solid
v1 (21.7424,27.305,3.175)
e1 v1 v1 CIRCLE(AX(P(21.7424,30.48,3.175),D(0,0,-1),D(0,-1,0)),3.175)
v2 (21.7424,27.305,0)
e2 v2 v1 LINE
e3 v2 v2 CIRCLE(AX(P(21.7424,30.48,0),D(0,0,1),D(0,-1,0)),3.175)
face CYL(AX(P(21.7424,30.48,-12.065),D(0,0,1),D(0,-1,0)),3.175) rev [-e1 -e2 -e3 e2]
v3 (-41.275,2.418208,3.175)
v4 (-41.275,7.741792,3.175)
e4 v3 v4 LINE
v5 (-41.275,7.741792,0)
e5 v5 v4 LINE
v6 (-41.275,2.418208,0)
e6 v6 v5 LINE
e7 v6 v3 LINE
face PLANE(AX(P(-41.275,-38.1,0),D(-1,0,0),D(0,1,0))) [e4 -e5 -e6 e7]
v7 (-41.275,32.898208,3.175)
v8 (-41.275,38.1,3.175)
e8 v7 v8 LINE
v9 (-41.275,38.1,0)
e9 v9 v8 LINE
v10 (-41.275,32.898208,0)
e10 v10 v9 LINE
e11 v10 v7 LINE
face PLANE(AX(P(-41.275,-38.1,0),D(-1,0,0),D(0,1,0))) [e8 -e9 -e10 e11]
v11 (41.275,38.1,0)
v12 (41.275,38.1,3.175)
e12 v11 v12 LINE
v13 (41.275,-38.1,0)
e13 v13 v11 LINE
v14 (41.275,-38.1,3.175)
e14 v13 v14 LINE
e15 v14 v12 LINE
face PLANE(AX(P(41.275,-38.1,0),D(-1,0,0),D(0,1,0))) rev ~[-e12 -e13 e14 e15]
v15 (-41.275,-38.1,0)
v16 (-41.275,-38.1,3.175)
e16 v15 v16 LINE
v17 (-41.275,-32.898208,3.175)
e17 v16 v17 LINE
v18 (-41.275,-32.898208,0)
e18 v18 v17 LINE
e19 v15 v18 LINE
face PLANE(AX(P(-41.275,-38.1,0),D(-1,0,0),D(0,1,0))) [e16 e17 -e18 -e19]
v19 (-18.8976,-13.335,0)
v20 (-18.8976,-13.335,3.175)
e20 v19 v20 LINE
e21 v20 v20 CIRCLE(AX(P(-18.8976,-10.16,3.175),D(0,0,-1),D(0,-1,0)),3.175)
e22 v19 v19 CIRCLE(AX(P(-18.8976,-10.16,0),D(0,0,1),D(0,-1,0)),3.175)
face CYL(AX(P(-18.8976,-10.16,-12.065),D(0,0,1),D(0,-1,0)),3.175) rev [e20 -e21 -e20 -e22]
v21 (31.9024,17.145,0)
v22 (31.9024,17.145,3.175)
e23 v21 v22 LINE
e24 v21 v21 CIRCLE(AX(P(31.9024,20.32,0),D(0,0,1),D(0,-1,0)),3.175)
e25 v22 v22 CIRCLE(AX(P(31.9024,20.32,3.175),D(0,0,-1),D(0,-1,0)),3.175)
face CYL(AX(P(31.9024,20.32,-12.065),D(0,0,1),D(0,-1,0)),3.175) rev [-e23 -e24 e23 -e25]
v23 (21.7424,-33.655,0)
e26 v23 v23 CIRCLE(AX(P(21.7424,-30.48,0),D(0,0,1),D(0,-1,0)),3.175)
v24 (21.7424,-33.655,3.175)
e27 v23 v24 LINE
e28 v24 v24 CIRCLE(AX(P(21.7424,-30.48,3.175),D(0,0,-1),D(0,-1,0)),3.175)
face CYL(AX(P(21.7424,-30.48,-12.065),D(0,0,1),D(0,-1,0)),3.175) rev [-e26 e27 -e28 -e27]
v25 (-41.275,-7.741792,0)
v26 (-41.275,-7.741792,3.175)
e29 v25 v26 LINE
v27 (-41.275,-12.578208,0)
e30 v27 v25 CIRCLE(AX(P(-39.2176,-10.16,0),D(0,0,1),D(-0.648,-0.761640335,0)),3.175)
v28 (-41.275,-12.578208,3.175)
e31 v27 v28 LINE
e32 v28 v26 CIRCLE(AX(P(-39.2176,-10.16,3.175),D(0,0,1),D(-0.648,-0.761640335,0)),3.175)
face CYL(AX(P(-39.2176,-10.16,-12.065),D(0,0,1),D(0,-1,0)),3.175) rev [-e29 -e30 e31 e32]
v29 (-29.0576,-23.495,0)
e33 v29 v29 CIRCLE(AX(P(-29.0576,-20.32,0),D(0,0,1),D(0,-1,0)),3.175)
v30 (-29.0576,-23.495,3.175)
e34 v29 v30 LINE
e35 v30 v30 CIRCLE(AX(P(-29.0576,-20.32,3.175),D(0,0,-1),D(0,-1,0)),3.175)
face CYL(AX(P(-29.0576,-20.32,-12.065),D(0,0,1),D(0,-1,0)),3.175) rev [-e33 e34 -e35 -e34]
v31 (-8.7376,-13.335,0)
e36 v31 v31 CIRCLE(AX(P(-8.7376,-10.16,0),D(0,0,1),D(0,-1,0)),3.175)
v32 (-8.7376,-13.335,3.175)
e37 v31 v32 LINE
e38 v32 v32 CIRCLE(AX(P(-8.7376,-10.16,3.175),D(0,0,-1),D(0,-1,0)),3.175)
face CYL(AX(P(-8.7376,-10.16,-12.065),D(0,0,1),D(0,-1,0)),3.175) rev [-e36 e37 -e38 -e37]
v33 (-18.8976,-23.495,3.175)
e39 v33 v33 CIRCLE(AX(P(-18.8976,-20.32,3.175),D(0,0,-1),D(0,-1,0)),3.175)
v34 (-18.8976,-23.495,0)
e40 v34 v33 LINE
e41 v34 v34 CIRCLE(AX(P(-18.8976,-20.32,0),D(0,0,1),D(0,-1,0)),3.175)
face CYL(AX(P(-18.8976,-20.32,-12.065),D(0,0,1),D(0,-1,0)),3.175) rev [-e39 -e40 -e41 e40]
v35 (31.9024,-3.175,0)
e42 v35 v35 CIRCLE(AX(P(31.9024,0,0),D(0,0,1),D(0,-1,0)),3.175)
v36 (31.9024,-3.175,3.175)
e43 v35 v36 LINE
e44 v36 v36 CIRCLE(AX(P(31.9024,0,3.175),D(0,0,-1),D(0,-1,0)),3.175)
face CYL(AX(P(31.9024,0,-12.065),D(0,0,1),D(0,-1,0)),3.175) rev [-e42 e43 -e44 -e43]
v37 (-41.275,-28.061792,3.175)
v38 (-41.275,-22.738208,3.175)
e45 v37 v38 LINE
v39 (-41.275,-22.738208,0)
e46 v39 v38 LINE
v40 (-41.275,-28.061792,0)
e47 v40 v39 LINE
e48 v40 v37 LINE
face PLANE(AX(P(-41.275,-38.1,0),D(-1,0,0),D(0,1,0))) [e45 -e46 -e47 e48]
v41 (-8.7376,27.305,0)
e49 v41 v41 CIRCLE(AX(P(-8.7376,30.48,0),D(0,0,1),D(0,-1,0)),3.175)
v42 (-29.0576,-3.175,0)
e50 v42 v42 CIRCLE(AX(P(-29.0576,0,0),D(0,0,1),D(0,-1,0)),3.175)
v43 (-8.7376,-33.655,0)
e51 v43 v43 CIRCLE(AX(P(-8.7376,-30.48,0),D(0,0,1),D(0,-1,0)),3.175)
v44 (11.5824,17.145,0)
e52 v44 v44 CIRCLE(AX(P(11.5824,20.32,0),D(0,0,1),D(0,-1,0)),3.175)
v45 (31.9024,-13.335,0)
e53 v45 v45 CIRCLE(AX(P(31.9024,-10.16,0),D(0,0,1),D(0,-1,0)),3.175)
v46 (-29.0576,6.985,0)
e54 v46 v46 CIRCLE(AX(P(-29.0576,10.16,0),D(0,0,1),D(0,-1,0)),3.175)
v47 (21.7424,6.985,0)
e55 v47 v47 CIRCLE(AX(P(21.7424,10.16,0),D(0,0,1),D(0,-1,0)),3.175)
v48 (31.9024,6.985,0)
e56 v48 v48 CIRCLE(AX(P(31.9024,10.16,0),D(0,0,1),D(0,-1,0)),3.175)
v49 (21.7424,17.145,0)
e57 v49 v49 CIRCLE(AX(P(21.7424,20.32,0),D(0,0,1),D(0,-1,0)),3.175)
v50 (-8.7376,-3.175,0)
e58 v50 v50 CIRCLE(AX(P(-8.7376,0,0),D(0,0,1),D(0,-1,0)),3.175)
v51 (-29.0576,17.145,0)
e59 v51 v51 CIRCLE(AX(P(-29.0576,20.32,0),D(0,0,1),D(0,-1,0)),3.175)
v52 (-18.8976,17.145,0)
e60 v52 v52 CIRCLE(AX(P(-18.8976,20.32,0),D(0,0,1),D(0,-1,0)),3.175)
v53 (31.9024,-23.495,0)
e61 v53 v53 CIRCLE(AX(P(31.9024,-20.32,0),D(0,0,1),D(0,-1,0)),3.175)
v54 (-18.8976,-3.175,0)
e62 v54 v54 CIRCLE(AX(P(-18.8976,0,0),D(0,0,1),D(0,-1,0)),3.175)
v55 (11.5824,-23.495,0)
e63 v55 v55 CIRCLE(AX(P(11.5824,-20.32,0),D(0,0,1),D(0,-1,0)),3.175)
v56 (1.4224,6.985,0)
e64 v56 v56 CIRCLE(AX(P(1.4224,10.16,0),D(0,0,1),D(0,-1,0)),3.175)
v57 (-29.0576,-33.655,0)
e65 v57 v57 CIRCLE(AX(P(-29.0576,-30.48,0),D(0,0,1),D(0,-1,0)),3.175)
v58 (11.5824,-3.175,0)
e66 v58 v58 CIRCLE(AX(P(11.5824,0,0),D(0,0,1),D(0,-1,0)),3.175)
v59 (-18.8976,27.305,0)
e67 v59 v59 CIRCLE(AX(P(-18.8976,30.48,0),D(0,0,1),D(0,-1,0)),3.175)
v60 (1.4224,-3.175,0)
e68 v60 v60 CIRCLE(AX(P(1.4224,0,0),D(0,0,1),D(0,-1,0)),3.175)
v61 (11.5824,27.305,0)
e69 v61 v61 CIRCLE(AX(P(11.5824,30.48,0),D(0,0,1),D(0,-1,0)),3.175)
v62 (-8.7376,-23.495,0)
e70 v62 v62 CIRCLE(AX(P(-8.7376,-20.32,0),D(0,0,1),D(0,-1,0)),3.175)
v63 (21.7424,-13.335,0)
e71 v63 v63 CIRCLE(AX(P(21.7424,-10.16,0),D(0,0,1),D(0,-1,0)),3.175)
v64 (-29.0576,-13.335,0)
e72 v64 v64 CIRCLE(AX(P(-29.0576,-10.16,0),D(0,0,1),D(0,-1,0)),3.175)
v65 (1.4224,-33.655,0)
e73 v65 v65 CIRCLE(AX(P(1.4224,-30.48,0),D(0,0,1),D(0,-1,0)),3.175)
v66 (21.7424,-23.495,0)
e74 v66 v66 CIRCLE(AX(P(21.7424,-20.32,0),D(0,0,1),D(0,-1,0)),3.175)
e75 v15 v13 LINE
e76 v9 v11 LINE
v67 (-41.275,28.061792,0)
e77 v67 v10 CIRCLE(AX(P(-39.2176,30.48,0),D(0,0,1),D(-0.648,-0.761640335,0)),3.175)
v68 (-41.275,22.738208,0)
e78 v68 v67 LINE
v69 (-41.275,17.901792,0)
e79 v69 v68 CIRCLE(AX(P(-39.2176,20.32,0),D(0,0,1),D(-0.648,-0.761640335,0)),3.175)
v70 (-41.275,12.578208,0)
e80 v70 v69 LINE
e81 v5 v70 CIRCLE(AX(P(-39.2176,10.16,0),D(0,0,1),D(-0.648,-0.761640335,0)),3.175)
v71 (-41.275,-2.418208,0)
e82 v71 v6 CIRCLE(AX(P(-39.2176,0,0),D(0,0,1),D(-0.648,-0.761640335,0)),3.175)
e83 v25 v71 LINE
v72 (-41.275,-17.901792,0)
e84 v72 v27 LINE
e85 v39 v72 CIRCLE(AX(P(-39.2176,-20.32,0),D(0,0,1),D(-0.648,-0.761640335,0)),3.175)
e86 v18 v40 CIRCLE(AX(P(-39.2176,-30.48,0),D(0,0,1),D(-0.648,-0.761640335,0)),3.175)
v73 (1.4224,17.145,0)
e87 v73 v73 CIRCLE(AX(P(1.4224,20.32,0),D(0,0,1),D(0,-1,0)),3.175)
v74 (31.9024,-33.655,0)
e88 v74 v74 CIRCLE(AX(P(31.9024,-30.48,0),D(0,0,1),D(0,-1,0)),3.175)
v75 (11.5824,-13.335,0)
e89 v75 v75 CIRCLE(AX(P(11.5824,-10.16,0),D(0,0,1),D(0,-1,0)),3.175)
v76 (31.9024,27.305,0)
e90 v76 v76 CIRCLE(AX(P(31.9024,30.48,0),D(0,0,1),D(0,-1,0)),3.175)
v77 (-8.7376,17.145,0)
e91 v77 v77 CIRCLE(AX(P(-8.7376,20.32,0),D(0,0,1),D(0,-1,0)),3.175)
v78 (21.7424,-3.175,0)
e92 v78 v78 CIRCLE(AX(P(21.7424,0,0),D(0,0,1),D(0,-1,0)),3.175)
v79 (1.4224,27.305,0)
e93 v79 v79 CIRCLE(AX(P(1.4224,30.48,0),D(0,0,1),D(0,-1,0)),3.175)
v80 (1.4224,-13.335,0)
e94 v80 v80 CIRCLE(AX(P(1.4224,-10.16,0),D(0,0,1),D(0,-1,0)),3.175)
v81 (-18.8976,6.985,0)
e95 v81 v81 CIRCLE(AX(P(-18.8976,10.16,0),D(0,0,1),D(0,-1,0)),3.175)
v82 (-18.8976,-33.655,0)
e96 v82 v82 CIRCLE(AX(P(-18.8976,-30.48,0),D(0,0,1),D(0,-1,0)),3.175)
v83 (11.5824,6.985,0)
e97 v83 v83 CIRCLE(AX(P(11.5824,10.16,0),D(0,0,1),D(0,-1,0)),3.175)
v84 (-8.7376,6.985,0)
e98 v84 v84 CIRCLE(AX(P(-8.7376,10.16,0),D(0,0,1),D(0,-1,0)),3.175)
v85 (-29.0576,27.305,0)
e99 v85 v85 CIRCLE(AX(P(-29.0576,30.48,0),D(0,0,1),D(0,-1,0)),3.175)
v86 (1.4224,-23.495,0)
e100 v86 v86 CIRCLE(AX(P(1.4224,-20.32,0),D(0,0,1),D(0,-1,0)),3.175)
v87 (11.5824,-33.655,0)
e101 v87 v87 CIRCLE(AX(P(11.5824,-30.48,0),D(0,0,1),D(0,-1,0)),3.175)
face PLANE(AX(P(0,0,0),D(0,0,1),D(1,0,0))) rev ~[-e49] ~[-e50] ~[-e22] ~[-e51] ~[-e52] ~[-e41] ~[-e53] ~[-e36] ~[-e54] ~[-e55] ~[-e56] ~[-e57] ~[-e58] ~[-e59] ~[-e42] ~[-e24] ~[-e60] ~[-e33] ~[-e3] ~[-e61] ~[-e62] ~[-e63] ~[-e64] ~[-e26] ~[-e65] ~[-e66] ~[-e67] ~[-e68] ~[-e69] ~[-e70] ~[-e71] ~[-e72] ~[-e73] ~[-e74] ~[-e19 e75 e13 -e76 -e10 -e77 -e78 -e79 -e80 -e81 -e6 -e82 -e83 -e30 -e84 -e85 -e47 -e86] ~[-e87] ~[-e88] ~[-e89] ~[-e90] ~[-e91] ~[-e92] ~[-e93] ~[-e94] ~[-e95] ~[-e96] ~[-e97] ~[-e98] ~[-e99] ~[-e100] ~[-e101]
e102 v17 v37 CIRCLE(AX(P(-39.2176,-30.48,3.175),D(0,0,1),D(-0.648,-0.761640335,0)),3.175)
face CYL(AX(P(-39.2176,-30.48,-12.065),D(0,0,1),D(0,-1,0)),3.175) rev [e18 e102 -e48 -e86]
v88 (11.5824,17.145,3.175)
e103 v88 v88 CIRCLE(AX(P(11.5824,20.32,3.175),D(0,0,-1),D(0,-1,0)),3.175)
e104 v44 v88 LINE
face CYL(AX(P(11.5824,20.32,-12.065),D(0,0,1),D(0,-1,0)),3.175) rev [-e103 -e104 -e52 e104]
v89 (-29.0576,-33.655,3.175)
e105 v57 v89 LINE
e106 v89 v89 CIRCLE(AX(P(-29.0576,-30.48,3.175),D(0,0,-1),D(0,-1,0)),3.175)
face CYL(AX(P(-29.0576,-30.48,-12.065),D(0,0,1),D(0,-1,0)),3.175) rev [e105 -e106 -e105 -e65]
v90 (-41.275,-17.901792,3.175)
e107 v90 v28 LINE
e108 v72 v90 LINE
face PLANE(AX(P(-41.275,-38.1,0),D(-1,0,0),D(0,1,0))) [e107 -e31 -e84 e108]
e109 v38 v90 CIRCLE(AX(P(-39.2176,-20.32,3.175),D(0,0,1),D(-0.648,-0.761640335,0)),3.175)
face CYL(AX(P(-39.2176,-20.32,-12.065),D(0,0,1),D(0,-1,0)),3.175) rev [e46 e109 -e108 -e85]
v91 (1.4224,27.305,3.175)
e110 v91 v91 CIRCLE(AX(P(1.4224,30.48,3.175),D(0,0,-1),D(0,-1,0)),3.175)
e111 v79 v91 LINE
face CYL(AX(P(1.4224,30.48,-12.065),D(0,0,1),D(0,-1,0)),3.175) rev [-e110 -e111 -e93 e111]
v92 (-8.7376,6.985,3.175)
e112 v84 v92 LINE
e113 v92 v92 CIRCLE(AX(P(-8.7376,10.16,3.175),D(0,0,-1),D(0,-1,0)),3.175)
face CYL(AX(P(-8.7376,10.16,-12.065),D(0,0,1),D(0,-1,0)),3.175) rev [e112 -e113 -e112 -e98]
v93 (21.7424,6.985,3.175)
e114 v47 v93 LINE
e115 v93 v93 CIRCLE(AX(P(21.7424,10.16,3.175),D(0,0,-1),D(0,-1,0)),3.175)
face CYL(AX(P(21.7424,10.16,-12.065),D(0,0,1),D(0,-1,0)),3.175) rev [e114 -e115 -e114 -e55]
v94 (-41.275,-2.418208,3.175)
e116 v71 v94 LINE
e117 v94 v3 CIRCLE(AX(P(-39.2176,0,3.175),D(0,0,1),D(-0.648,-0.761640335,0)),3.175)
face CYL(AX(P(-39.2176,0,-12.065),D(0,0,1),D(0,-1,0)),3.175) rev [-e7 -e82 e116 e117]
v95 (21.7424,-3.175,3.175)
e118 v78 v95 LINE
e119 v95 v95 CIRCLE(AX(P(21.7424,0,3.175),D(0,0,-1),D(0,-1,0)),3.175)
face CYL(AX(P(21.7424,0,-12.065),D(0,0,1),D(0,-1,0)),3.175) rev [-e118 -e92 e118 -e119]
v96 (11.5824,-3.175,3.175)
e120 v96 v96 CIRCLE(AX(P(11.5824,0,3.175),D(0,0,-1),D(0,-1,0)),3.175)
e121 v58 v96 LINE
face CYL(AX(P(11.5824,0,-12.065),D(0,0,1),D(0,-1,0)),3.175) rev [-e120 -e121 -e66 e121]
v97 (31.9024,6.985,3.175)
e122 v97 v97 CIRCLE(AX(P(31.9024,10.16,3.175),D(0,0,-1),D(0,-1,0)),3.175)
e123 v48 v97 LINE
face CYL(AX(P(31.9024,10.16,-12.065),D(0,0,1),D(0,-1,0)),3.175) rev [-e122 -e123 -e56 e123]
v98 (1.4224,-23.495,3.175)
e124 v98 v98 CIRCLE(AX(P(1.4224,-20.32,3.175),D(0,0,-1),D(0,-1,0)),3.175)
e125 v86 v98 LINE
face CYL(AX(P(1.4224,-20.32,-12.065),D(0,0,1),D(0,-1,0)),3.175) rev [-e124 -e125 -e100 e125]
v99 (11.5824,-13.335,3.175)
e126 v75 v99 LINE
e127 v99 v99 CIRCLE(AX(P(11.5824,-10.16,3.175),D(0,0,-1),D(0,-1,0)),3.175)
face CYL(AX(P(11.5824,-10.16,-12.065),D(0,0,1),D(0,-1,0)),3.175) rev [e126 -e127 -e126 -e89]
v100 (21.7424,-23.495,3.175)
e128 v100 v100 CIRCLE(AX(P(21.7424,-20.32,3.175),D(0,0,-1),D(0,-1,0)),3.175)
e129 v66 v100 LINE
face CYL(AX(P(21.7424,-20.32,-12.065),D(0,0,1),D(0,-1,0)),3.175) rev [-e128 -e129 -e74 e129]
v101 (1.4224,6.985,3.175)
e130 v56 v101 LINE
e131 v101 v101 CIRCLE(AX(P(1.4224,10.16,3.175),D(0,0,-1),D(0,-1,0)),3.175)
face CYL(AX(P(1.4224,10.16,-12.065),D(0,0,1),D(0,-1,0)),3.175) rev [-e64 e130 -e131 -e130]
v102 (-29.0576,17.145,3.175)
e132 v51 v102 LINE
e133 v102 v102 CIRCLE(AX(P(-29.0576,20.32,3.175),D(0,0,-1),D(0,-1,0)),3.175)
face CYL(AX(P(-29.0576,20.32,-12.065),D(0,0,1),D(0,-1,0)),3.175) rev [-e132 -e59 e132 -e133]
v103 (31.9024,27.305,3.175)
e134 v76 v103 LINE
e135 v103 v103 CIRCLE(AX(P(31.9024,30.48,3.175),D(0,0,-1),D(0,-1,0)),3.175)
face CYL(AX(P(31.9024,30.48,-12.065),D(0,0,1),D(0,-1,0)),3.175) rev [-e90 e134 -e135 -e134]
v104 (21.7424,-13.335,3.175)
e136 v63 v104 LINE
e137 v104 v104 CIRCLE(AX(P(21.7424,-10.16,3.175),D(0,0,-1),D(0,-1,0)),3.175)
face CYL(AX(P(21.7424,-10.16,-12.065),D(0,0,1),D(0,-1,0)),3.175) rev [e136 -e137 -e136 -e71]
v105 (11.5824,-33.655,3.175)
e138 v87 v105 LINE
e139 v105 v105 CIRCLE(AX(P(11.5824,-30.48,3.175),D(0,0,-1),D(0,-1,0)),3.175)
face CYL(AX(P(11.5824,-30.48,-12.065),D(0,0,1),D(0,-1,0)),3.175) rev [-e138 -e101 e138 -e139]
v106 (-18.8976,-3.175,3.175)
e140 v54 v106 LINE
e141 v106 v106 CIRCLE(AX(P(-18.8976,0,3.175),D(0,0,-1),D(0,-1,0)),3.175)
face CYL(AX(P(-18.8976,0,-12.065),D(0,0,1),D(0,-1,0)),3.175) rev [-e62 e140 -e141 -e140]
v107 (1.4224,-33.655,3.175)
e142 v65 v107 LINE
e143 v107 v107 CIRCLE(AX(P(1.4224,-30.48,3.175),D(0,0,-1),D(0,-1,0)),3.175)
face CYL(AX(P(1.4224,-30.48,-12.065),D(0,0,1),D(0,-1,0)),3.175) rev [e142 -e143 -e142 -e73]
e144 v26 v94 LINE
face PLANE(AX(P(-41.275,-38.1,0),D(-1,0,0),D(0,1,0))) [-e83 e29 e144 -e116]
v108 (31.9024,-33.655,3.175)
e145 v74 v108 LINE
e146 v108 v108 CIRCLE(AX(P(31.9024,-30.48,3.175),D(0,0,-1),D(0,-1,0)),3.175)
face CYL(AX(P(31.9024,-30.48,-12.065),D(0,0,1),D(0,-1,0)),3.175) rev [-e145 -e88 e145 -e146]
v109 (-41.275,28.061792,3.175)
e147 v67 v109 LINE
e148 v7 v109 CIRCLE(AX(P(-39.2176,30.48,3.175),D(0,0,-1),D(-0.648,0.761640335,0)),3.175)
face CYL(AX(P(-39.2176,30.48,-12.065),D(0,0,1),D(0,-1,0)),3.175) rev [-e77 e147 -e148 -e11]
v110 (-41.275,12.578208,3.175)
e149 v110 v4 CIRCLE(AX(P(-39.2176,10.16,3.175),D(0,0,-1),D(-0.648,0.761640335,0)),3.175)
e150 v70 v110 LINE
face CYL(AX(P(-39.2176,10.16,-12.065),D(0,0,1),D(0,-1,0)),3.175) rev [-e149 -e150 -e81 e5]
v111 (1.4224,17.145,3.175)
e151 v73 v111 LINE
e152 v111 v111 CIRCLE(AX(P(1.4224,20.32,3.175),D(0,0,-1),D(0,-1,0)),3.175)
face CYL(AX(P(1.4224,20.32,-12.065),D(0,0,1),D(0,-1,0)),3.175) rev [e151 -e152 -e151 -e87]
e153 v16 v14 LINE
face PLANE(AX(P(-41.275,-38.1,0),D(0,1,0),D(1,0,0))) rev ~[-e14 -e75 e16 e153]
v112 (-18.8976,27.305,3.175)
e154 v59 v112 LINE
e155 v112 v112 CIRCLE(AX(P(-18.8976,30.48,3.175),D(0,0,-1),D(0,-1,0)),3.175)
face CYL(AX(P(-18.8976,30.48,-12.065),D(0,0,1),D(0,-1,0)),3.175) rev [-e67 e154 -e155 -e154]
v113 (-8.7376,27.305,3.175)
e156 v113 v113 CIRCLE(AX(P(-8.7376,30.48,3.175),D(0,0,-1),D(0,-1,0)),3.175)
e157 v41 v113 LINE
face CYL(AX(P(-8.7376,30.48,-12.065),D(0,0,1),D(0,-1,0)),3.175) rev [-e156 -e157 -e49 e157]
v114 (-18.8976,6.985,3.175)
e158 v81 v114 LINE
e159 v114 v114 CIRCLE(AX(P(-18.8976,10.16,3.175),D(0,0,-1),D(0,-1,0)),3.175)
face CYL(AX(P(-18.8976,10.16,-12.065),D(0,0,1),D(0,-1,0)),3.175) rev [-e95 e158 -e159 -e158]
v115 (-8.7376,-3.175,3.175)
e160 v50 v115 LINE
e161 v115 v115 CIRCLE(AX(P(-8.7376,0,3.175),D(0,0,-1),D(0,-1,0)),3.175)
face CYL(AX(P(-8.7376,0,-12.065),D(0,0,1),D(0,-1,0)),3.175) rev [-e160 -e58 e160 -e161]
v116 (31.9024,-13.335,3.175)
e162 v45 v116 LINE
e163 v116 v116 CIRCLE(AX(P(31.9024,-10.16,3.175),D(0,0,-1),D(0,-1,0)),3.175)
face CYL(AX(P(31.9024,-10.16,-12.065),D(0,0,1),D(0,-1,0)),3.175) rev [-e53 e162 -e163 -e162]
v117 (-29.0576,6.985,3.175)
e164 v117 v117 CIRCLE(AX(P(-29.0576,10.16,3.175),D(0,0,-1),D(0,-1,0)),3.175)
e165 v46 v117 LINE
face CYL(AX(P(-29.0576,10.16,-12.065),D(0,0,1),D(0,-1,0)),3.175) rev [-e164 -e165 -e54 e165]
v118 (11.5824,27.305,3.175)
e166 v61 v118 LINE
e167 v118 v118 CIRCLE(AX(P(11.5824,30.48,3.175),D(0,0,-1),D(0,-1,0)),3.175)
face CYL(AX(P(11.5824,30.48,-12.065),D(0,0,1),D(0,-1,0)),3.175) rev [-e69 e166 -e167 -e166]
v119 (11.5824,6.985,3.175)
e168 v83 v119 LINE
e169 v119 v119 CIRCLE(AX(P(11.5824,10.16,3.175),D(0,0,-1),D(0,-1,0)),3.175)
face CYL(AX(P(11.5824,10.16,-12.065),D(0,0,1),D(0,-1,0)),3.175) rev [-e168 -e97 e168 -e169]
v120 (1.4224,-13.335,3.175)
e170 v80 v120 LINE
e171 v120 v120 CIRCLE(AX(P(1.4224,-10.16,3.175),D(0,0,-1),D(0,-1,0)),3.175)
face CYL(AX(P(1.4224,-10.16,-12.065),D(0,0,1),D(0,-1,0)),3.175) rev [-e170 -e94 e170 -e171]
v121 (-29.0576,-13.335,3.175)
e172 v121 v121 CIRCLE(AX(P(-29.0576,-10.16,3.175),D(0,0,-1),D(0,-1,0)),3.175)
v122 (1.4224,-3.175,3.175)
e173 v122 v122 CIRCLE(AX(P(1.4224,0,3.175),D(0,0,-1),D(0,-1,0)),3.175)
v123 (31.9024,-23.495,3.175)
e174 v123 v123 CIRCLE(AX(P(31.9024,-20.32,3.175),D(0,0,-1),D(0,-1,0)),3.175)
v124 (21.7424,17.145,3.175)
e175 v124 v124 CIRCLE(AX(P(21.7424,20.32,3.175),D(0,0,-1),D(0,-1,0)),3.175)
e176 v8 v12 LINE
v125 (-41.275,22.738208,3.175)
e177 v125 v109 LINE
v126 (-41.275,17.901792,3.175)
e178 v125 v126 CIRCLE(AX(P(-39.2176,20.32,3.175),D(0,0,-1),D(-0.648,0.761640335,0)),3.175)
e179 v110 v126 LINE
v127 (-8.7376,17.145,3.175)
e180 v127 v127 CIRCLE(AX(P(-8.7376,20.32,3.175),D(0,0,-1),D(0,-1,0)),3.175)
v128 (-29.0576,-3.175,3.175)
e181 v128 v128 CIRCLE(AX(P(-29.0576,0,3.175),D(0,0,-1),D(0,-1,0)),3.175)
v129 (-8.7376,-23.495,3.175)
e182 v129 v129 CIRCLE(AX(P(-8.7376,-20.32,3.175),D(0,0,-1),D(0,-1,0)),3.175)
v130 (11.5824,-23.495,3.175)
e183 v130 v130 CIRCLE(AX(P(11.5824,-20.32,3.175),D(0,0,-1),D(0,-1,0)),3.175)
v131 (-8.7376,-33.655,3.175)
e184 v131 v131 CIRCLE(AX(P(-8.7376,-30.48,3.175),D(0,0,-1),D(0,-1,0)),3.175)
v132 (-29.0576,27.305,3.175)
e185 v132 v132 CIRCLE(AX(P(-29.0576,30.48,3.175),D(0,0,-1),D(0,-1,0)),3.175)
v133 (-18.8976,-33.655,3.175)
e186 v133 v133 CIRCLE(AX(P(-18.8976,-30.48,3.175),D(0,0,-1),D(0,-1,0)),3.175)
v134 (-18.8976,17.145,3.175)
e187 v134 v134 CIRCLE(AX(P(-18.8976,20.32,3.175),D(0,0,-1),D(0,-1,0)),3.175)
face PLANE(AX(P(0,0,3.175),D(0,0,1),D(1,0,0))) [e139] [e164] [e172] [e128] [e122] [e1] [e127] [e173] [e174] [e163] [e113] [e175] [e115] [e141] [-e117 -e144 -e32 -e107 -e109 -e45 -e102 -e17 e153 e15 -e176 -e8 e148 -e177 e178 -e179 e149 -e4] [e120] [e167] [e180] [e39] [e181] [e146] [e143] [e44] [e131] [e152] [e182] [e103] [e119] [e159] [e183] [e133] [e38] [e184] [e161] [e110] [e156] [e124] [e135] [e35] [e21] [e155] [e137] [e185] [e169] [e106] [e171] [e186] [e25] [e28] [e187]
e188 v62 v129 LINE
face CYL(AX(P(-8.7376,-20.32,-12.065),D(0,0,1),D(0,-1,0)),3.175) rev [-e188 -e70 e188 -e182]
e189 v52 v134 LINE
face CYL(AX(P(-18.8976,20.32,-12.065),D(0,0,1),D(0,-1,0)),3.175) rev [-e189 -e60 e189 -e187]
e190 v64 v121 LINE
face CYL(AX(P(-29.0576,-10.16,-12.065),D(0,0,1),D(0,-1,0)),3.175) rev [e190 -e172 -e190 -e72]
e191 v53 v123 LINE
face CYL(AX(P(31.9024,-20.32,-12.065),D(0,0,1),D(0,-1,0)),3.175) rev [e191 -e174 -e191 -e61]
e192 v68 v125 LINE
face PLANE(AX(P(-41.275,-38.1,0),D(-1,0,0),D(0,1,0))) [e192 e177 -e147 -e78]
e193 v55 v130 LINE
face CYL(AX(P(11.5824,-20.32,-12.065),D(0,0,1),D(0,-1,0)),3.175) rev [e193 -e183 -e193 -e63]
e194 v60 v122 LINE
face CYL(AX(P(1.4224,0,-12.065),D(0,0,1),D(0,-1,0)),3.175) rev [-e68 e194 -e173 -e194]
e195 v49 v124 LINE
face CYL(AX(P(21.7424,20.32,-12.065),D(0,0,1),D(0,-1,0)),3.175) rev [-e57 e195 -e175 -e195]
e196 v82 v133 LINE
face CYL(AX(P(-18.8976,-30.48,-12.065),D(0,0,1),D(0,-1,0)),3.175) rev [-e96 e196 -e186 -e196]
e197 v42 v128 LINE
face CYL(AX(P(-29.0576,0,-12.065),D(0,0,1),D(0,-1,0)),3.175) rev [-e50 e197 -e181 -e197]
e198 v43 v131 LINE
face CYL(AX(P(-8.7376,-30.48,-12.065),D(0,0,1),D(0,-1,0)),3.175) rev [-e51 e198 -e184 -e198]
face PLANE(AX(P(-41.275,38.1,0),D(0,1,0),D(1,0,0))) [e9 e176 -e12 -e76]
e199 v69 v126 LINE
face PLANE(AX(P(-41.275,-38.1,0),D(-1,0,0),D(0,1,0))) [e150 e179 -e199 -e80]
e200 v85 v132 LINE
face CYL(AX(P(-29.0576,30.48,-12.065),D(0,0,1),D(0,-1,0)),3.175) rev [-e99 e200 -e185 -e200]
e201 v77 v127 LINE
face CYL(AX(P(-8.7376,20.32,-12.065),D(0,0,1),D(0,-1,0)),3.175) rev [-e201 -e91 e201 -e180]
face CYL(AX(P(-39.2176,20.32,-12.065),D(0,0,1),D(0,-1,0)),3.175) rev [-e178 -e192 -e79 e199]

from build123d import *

# Parameters (mm, degrees)
SKETCH1_W           = 82.55
SKETCH1_H           = 76.2
BOSS_EXTRUDE1_DEPTH = 3.175
LPATTERN1_COUNT     = 5
LPATTERN1_PITCH     = 10.16
LPATTERN1_COL_COUNT = 4
LPATTERN1_COL_PITCH = 10.16
LPATTERN2_COUNT     = 4
LPATTERN2_PITCH     = 10.16
LPATTERN2_COL_COUNT = 4
LPATTERN2_COL_PITCH = 10.16


with BuildPart() as part:
    # Sketch1 → Boss-Extrude1 (new body)
    with BuildSketch(Plane.XY):
        Rectangle(SKETCH1_W, SKETCH1_H)
    extrude(amount=BOSS_EXTRUDE1_DEPTH)

    # Sketch3 → 1/4 (0.25) Diameter Hole1 (revolve, cut)
    with BuildSketch(Plane(origin=(-8.7376, 0, 3.175), x_dir=(0, -1, 0), z_dir=(1, 0, 0))):
        Polygon((0, 0), (0, 17.147732465), (3.175, 15.24), (3.175, 0), align=None)
    f_1_4_0_25_diameter_hole1 = revolve(axis=Axis((-8.7376, 0, 9.525), (0, 0, -1)), mode=Mode.SUBTRACT)

    # LPattern1: 1/4 (0.25) Diameter Hole1 ×5
    with Locations(*[(i * LPATTERN1_PITCH, 0, 0) for i in range(1, LPATTERN1_COUNT)]):
        add(f_1_4_0_25_diameter_hole1, mode=Mode.SUBTRACT)

    # LPattern1 col: 1/4 (0.25) Diameter Hole1 ×4
    with Locations(*[(-i * LPATTERN1_COL_PITCH, 0, 0) for i in range(1, LPATTERN1_COL_COUNT)]):
        add(f_1_4_0_25_diameter_hole1, mode=Mode.SUBTRACT)

    # LPattern2: 1/4 (0.25) Diameter Hole1 ×4
    with Locations(*[(0, -i * LPATTERN2_PITCH, 0) for i in range(1, LPATTERN2_COUNT)]):
        add(f_1_4_0_25_diameter_hole1, mode=Mode.SUBTRACT)

    # LPattern2 copy 1 sketch → LPattern2 copy 1 (revolve, cut)
    with BuildSketch(Plane(origin=(1.4224, -10.16, 3.175), x_dir=(0, -1, 0), z_dir=(1, 0, 0))):
        Polygon((0, 0), (0, 17.147732465), (3.175, 15.24), (3.175, 0), align=None)
    revolve(axis=Axis((1.4224, -10.16, 9.525), (0, 0, -1)), mode=Mode.SUBTRACT)

    # LPattern2 copy 2 sketch → LPattern2 copy 2 (revolve, cut)
    with BuildSketch(Plane(origin=(1.4224, -20.32, 3.175), x_dir=(0, -1, 0), z_dir=(1, 0, 0))):
        Polygon((0, 0), (0, 17.147732465), (3.175, 15.24), (3.175, 0), align=None)
    revolve(axis=Axis((1.4224, -20.32, 9.525), (0, 0, -1)), mode=Mode.SUBTRACT)

    # LPattern2 copy 3 sketch → LPattern2 copy 3 (revolve, cut)
    with BuildSketch(Plane(origin=(1.4224, -30.48, 3.175), x_dir=(0, -1, 0), z_dir=(1, 0, 0))):
        Polygon((0, 0), (0, 17.147732465), (3.175, 15.24), (3.175, 0), align=None)
    revolve(axis=Axis((1.4224, -30.48, 9.525), (0, 0, -1)), mode=Mode.SUBTRACT)

    # LPattern2 copy 4 sketch → LPattern2 copy 4 (revolve, cut)
    with BuildSketch(Plane(origin=(11.5824, -10.16, 3.175), x_dir=(0, -1, 0), z_dir=(1, 0, 0))):
        Polygon((0, 0), (0, 17.147732465), (3.175, 15.24), (3.175, 0), align=None)
    revolve(axis=Axis((11.5824, -10.16, 9.525), (0, 0, -1)), mode=Mode.SUBTRACT)

    # LPattern2 copy 5 sketch → LPattern2 copy 5 (revolve, cut)
    with BuildSketch(Plane(origin=(11.5824, -20.32, 3.175), x_dir=(0, -1, 0), z_dir=(1, 0, 0))):
        Polygon((0, 0), (0, 17.147732465), (3.175, 15.24), (3.175, 0), align=None)
    revolve(axis=Axis((11.5824, -20.32, 9.525), (0, 0, -1)), mode=Mode.SUBTRACT)

    # LPattern2 copy 6 sketch → LPattern2 copy 6 (revolve, cut)
    with BuildSketch(Plane(origin=(11.5824, -30.48, 3.175), x_dir=(0, -1, 0), z_dir=(1, 0, 0))):
        Polygon((0, 0), (0, 17.147732465), (3.175, 15.24), (3.175, 0), align=None)
    revolve(axis=Axis((11.5824, -30.48, 9.525), (0, 0, -1)), mode=Mode.SUBTRACT)

    # LPattern2 copy 7 sketch → LPattern2 copy 7 (revolve, cut)
    with BuildSketch(Plane(origin=(21.7424, -10.16, 3.175), x_dir=(0, -1, 0), z_dir=(1, 0, 0))):
        Polygon((0, 0), (0, 17.147732465), (3.175, 15.24), (3.175, 0), align=None)
    revolve(axis=Axis((21.7424, -10.16, 9.525), (0, 0, -1)), mode=Mode.SUBTRACT)

    # LPattern2 copy 8 sketch → LPattern2 copy 8 (revolve, cut)
    with BuildSketch(Plane(origin=(21.7424, -20.32, 3.175), x_dir=(0, -1, 0), z_dir=(1, 0, 0))):
        Polygon((0, 0), (0, 17.147732465), (3.175, 15.24), (3.175, 0), align=None)
    revolve(axis=Axis((21.7424, -20.32, 9.525), (0, 0, -1)), mode=Mode.SUBTRACT)

    # LPattern2 copy 9 sketch → LPattern2 copy 9 (revolve, cut)
    with BuildSketch(Plane(origin=(21.7424, -30.48, 3.175), x_dir=(0, -1, 0), z_dir=(1, 0, 0))):
        Polygon((0, 0), (0, 17.147732465), (3.175, 15.24), (3.175, 0), align=None)
    revolve(axis=Axis((21.7424, -30.48, 9.525), (0, 0, -1)), mode=Mode.SUBTRACT)

    # LPattern2 copy 10 sketch → LPattern2 copy 10 (revolve, cut)
    with BuildSketch(Plane(origin=(31.9024, -10.16, 3.175), x_dir=(0, -1, 0), z_dir=(1, 0, 0))):
        Polygon((0, 0), (0, 17.147732465), (3.175, 15.24), (3.175, 0), align=None)
    revolve(axis=Axis((31.9024, -10.16, 9.525), (0, 0, -1)), mode=Mode.SUBTRACT)

    # LPattern2 copy 11 sketch → LPattern2 copy 11 (revolve, cut)
    with BuildSketch(Plane(origin=(31.9024, -20.32, 3.175), x_dir=(0, -1, 0), z_dir=(1, 0, 0))):
        Polygon((0, 0), (0, 17.147732465), (3.175, 15.24), (3.175, 0), align=None)
    revolve(axis=Axis((31.9024, -20.32, 9.525), (0, 0, -1)), mode=Mode.SUBTRACT)

    # LPattern2 copy 12 sketch → LPattern2 copy 12 (revolve, cut)
    with BuildSketch(Plane(origin=(31.9024, -30.48, 3.175), x_dir=(0, -1, 0), z_dir=(1, 0, 0))):
        Polygon((0, 0), (0, 17.147732465), (3.175, 15.24), (3.175, 0), align=None)
    revolve(axis=Axis((31.9024, -30.48, 9.525), (0, 0, -1)), mode=Mode.SUBTRACT)

    # LPattern2 copy 13 sketch → LPattern2 copy 13 (revolve, cut)
    with BuildSketch(Plane(origin=(-18.8976, -10.16, 3.175), x_dir=(0, -1, 0), z_dir=(1, 0, 0))):
        Polygon((0, 0), (0, 17.147732465), (3.175, 15.24), (3.175, 0), align=None)
    revolve(axis=Axis((-18.8976, -10.16, 9.525), (0, 0, -1)), mode=Mode.SUBTRACT)

    # LPattern2 copy 14 sketch → LPattern2 copy 14 (revolve, cut)
    with BuildSketch(Plane(origin=(-18.8976, -20.32, 3.175), x_dir=(0, -1, 0), z_dir=(1, 0, 0))):
        Polygon((0, 0), (0, 17.147732465), (3.175, 15.24), (3.175, 0), align=None)
    revolve(axis=Axis((-18.8976, -20.32, 9.525), (0, 0, -1)), mode=Mode.SUBTRACT)

    # LPattern2 copy 15 sketch → LPattern2 copy 15 (revolve, cut)
    with BuildSketch(Plane(origin=(-18.8976, -30.48, 3.175), x_dir=(0, -1, 0), z_dir=(1, 0, 0))):
        Polygon((0, 0), (0, 17.147732465), (3.175, 15.24), (3.175, 0), align=None)
    revolve(axis=Axis((-18.8976, -30.48, 9.525), (0, 0, -1)), mode=Mode.SUBTRACT)

    # LPattern2 copy 16 sketch → LPattern2 copy 16 (revolve, cut)
    with BuildSketch(Plane(origin=(-29.0576, -10.16, 3.175), x_dir=(0, -1, 0), z_dir=(1, 0, 0))):
        Polygon((0, 0), (0, 17.147732465), (3.175, 15.24), (3.175, 0), align=None)
    revolve(axis=Axis((-29.0576, -10.16, 9.525), (0, 0, -1)), mode=Mode.SUBTRACT)

    # LPattern2 copy 17 sketch → LPattern2 copy 17 (revolve, cut)
    with BuildSketch(Plane(origin=(-29.0576, -20.32, 3.175), x_dir=(0, -1, 0), z_dir=(1, 0, 0))):
        Polygon((0, 0), (0, 17.147732465), (3.175, 15.24), (3.175, 0), align=None)
    revolve(axis=Axis((-29.0576, -20.32, 9.525), (0, 0, -1)), mode=Mode.SUBTRACT)

    # LPattern2 copy 18 sketch → LPattern2 copy 18 (revolve, cut)
    with BuildSketch(Plane(origin=(-29.0576, -30.48, 3.175), x_dir=(0, -1, 0), z_dir=(1, 0, 0))):
        Polygon((0, 0), (0, 17.147732465), (3.175, 15.24), (3.175, 0), align=None)
    revolve(axis=Axis((-29.0576, -30.48, 9.525), (0, 0, -1)), mode=Mode.SUBTRACT)

    # LPattern2 copy 19 sketch → LPattern2 copy 19 (revolve, cut)
    with BuildSketch(Plane(origin=(-39.2176, -10.16, 3.175), x_dir=(0, -1, 0), z_dir=(1, 0, 0))):
        Polygon((0, 0), (0, 17.147732465), (3.175, 15.24), (3.175, 0), align=None)
    revolve(axis=Axis((-39.2176, -10.16, 9.525), (0, 0, -1)), mode=Mode.SUBTRACT)

    # LPattern2 copy 20 sketch → LPattern2 copy 20 (revolve, cut)
    with BuildSketch(Plane(origin=(-39.2176, -20.32, 3.175), x_dir=(0, -1, 0), z_dir=(1, 0, 0))):
        Polygon((0, 0), (0, 17.147732465), (3.175, 15.24), (3.175, 0), align=None)
    revolve(axis=Axis((-39.2176, -20.32, 9.525), (0, 0, -1)), mode=Mode.SUBTRACT)

    # LPattern2 copy 21 sketch → LPattern2 copy 21 (revolve, cut)
    with BuildSketch(Plane(origin=(-39.2176, -30.48, 3.175), x_dir=(0, -1, 0), z_dir=(1, 0, 0))):
        Polygon((0, 0), (0, 17.147732465), (3.175, 15.24), (3.175, 0), align=None)
    revolve(axis=Axis((-39.2176, -30.48, 9.525), (0, 0, -1)), mode=Mode.SUBTRACT)

    # LPattern2 col: 1/4 (0.25) Diameter Hole1 ×4
    with Locations(*[(0, i * LPATTERN2_COL_PITCH, 0) for i in range(1, LPATTERN2_COL_COUNT)]):
        add(f_1_4_0_25_diameter_hole1, mode=Mode.SUBTRACT)

    # LPattern2 col copy 1 sketch → LPattern2 col copy 1 (revolve, cut)
    with BuildSketch(Plane(origin=(1.4224, 10.16, 3.175), x_dir=(0, -1, 0), z_dir=(1, 0, 0))):
        Polygon((0, 0), (0, 17.147732465), (3.175, 15.24), (3.175, 0), align=None)
    revolve(axis=Axis((1.4224, 10.16, 9.525), (0, 0, -1)), mode=Mode.SUBTRACT)

    # LPattern2 col copy 2 sketch → LPattern2 col copy 2 (revolve, cut)
    with BuildSketch(Plane(origin=(1.4224, 20.32, 3.175), x_dir=(0, -1, 0), z_dir=(1, 0, 0))):
        Polygon((0, 0), (0, 17.147732465), (3.175, 15.24), (3.175, 0), align=None)
    revolve(axis=Axis((1.4224, 20.32, 9.525), (0, 0, -1)), mode=Mode.SUBTRACT)

    # LPattern2 col copy 3 sketch → LPattern2 col copy 3 (revolve, cut)
    with BuildSketch(Plane(origin=(1.4224, 30.48, 3.175), x_dir=(0, -1, 0), z_dir=(1, 0, 0))):
        Polygon((0, 0), (0, 17.147732465), (3.175, 15.24), (3.175, 0), align=None)
    revolve(axis=Axis((1.4224, 30.48, 9.525), (0, 0, -1)), mode=Mode.SUBTRACT)

    # LPattern2 col copy 4 sketch → LPattern2 col copy 4 (revolve, cut)
    with BuildSketch(Plane(origin=(11.5824, 10.16, 3.175), x_dir=(0, -1, 0), z_dir=(1, 0, 0))):
        Polygon((0, 0), (0, 17.147732465), (3.175, 15.24), (3.175, 0), align=None)
    revolve(axis=Axis((11.5824, 10.16, 9.525), (0, 0, -1)), mode=Mode.SUBTRACT)

    # LPattern2 col copy 5 sketch → LPattern2 col copy 5 (revolve, cut)
    with BuildSketch(Plane(origin=(11.5824, 20.32, 3.175), x_dir=(0, -1, 0), z_dir=(1, 0, 0))):
        Polygon((0, 0), (0, 17.147732465), (3.175, 15.24), (3.175, 0), align=None)
    revolve(axis=Axis((11.5824, 20.32, 9.525), (0, 0, -1)), mode=Mode.SUBTRACT)

    # LPattern2 col copy 6 sketch → LPattern2 col copy 6 (revolve, cut)
    with BuildSketch(Plane(origin=(11.5824, 30.48, 3.175), x_dir=(0, -1, 0), z_dir=(1, 0, 0))):
        Polygon((0, 0), (0, 17.147732465), (3.175, 15.24), (3.175, 0), align=None)
    revolve(axis=Axis((11.5824, 30.48, 9.525), (0, 0, -1)), mode=Mode.SUBTRACT)

    # LPattern2 col copy 7 sketch → LPattern2 col copy 7 (revolve, cut)
    with BuildSketch(Plane(origin=(21.7424, 10.16, 3.175), x_dir=(0, -1, 0), z_dir=(1, 0, 0))):
        Polygon((0, 0), (0, 17.147732465), (3.175, 15.24), (3.175, 0), align=None)
    revolve(axis=Axis((21.7424, 10.16, 9.525), (0, 0, -1)), mode=Mode.SUBTRACT)

    # LPattern2 col copy 8 sketch → LPattern2 col copy 8 (revolve, cut)
    with BuildSketch(Plane(origin=(21.7424, 20.32, 3.175), x_dir=(0, -1, 0), z_dir=(1, 0, 0))):
        Polygon((0, 0), (0, 17.147732465), (3.175, 15.24), (3.175, 0), align=None)
    revolve(axis=Axis((21.7424, 20.32, 9.525), (0, 0, -1)), mode=Mode.SUBTRACT)

    # LPattern2 col copy 9 sketch → LPattern2 col copy 9 (revolve, cut)
    with BuildSketch(Plane(origin=(21.7424, 30.48, 3.175), x_dir=(0, -1, 0), z_dir=(1, 0, 0))):
        Polygon((0, 0), (0, 17.147732465), (3.175, 15.24), (3.175, 0), align=None)
    revolve(axis=Axis((21.7424, 30.48, 9.525), (0, 0, -1)), mode=Mode.SUBTRACT)

    # LPattern2 col copy 10 sketch → LPattern2 col copy 10 (revolve, cut)
    with BuildSketch(Plane(origin=(31.9024, 10.16, 3.175), x_dir=(0, -1, 0), z_dir=(1, 0, 0))):
        Polygon((0, 0), (0, 17.147732465), (3.175, 15.24), (3.175, 0), align=None)
    revolve(axis=Axis((31.9024, 10.16, 9.525), (0, 0, -1)), mode=Mode.SUBTRACT)

    # LPattern2 col copy 11 sketch → LPattern2 col copy 11 (revolve, cut)
    with BuildSketch(Plane(origin=(31.9024, 20.32, 3.175), x_dir=(0, -1, 0), z_dir=(1, 0, 0))):
        Polygon((0, 0), (0, 17.147732465), (3.175, 15.24), (3.175, 0), align=None)
    revolve(axis=Axis((31.9024, 20.32, 9.525), (0, 0, -1)), mode=Mode.SUBTRACT)

    # LPattern2 col copy 12 sketch → LPattern2 col copy 12 (revolve, cut)
    with BuildSketch(Plane(origin=(31.9024, 30.48, 3.175), x_dir=(0, -1, 0), z_dir=(1, 0, 0))):
        Polygon((0, 0), (0, 17.147732465), (3.175, 15.24), (3.175, 0), align=None)
    revolve(axis=Axis((31.9024, 30.48, 9.525), (0, 0, -1)), mode=Mode.SUBTRACT)

    # LPattern2 col copy 13 sketch → LPattern2 col copy 13 (revolve, cut)
    with BuildSketch(Plane(origin=(-18.8976, 10.16, 3.175), x_dir=(0, -1, 0), z_dir=(1, 0, 0))):
        Polygon((0, 0), (0, 17.147732465), (3.175, 15.24), (3.175, 0), align=None)
    revolve(axis=Axis((-18.8976, 10.16, 9.525), (0, 0, -1)), mode=Mode.SUBTRACT)

    # LPattern2 col copy 14 sketch → LPattern2 col copy 14 (revolve, cut)
    with BuildSketch(Plane(origin=(-18.8976, 20.32, 3.175), x_dir=(0, -1, 0), z_dir=(1, 0, 0))):
        Polygon((0, 0), (0, 17.147732465), (3.175, 15.24), (3.175, 0), align=None)
    revolve(axis=Axis((-18.8976, 20.32, 9.525), (0, 0, -1)), mode=Mode.SUBTRACT)

    # LPattern2 col copy 15 sketch → LPattern2 col copy 15 (revolve, cut)
    with BuildSketch(Plane(origin=(-18.8976, 30.48, 3.175), x_dir=(0, -1, 0), z_dir=(1, 0, 0))):
        Polygon((0, 0), (0, 17.147732465), (3.175, 15.24), (3.175, 0), align=None)
    revolve(axis=Axis((-18.8976, 30.48, 9.525), (0, 0, -1)), mode=Mode.SUBTRACT)

    # LPattern2 col copy 16 sketch → LPattern2 col copy 16 (revolve, cut)
    with BuildSketch(Plane(origin=(-29.0576, 10.16, 3.175), x_dir=(0, -1, 0), z_dir=(1, 0, 0))):
        Polygon((0, 0), (0, 17.147732465), (3.175, 15.24), (3.175, 0), align=None)
    revolve(axis=Axis((-29.0576, 10.16, 9.525), (0, 0, -1)), mode=Mode.SUBTRACT)

    # LPattern2 col copy 17 sketch → LPattern2 col copy 17 (revolve, cut)
    with BuildSketch(Plane(origin=(-29.0576, 20.32, 3.175), x_dir=(0, -1, 0), z_dir=(1, 0, 0))):
        Polygon((0, 0), (0, 17.147732465), (3.175, 15.24), (3.175, 0), align=None)
    revolve(axis=Axis((-29.0576, 20.32, 9.525), (0, 0, -1)), mode=Mode.SUBTRACT)

    # LPattern2 col copy 18 sketch → LPattern2 col copy 18 (revolve, cut)
    with BuildSketch(Plane(origin=(-29.0576, 30.48, 3.175), x_dir=(0, -1, 0), z_dir=(1, 0, 0))):
        Polygon((0, 0), (0, 17.147732465), (3.175, 15.24), (3.175, 0), align=None)
    revolve(axis=Axis((-29.0576, 30.48, 9.525), (0, 0, -1)), mode=Mode.SUBTRACT)

    # LPattern2 col copy 19 sketch → LPattern2 col copy 19 (revolve, cut)
    with BuildSketch(Plane(origin=(-39.2176, 10.16, 3.175), x_dir=(0, -1, 0), z_dir=(1, 0, 0))):
        Polygon((0, 0), (0, 17.147732465), (3.175, 15.24), (3.175, 0), align=None)
    revolve(axis=Axis((-39.2176, 10.16, 9.525), (0, 0, -1)), mode=Mode.SUBTRACT)

    # LPattern2 col copy 20 sketch → LPattern2 col copy 20 (revolve, cut)
    with BuildSketch(Plane(origin=(-39.2176, 20.32, 3.175), x_dir=(0, -1, 0), z_dir=(1, 0, 0))):
        Polygon((0, 0), (0, 17.147732465), (3.175, 15.24), (3.175, 0), align=None)
    revolve(axis=Axis((-39.2176, 20.32, 9.525), (0, 0, -1)), mode=Mode.SUBTRACT)

    # LPattern2 col copy 21 sketch → LPattern2 col copy 21 (revolve, cut)
    with BuildSketch(Plane(origin=(-39.2176, 30.48, 3.175), x_dir=(0, -1, 0), z_dir=(1, 0, 0))):
        Polygon((0, 0), (0, 17.147732465), (3.175, 15.24), (3.175, 0), align=None)
    revolve(axis=Axis((-39.2176, 30.48, 9.525), (0, 0, -1)), mode=Mode.SUBTRACT)


solid = part.part
